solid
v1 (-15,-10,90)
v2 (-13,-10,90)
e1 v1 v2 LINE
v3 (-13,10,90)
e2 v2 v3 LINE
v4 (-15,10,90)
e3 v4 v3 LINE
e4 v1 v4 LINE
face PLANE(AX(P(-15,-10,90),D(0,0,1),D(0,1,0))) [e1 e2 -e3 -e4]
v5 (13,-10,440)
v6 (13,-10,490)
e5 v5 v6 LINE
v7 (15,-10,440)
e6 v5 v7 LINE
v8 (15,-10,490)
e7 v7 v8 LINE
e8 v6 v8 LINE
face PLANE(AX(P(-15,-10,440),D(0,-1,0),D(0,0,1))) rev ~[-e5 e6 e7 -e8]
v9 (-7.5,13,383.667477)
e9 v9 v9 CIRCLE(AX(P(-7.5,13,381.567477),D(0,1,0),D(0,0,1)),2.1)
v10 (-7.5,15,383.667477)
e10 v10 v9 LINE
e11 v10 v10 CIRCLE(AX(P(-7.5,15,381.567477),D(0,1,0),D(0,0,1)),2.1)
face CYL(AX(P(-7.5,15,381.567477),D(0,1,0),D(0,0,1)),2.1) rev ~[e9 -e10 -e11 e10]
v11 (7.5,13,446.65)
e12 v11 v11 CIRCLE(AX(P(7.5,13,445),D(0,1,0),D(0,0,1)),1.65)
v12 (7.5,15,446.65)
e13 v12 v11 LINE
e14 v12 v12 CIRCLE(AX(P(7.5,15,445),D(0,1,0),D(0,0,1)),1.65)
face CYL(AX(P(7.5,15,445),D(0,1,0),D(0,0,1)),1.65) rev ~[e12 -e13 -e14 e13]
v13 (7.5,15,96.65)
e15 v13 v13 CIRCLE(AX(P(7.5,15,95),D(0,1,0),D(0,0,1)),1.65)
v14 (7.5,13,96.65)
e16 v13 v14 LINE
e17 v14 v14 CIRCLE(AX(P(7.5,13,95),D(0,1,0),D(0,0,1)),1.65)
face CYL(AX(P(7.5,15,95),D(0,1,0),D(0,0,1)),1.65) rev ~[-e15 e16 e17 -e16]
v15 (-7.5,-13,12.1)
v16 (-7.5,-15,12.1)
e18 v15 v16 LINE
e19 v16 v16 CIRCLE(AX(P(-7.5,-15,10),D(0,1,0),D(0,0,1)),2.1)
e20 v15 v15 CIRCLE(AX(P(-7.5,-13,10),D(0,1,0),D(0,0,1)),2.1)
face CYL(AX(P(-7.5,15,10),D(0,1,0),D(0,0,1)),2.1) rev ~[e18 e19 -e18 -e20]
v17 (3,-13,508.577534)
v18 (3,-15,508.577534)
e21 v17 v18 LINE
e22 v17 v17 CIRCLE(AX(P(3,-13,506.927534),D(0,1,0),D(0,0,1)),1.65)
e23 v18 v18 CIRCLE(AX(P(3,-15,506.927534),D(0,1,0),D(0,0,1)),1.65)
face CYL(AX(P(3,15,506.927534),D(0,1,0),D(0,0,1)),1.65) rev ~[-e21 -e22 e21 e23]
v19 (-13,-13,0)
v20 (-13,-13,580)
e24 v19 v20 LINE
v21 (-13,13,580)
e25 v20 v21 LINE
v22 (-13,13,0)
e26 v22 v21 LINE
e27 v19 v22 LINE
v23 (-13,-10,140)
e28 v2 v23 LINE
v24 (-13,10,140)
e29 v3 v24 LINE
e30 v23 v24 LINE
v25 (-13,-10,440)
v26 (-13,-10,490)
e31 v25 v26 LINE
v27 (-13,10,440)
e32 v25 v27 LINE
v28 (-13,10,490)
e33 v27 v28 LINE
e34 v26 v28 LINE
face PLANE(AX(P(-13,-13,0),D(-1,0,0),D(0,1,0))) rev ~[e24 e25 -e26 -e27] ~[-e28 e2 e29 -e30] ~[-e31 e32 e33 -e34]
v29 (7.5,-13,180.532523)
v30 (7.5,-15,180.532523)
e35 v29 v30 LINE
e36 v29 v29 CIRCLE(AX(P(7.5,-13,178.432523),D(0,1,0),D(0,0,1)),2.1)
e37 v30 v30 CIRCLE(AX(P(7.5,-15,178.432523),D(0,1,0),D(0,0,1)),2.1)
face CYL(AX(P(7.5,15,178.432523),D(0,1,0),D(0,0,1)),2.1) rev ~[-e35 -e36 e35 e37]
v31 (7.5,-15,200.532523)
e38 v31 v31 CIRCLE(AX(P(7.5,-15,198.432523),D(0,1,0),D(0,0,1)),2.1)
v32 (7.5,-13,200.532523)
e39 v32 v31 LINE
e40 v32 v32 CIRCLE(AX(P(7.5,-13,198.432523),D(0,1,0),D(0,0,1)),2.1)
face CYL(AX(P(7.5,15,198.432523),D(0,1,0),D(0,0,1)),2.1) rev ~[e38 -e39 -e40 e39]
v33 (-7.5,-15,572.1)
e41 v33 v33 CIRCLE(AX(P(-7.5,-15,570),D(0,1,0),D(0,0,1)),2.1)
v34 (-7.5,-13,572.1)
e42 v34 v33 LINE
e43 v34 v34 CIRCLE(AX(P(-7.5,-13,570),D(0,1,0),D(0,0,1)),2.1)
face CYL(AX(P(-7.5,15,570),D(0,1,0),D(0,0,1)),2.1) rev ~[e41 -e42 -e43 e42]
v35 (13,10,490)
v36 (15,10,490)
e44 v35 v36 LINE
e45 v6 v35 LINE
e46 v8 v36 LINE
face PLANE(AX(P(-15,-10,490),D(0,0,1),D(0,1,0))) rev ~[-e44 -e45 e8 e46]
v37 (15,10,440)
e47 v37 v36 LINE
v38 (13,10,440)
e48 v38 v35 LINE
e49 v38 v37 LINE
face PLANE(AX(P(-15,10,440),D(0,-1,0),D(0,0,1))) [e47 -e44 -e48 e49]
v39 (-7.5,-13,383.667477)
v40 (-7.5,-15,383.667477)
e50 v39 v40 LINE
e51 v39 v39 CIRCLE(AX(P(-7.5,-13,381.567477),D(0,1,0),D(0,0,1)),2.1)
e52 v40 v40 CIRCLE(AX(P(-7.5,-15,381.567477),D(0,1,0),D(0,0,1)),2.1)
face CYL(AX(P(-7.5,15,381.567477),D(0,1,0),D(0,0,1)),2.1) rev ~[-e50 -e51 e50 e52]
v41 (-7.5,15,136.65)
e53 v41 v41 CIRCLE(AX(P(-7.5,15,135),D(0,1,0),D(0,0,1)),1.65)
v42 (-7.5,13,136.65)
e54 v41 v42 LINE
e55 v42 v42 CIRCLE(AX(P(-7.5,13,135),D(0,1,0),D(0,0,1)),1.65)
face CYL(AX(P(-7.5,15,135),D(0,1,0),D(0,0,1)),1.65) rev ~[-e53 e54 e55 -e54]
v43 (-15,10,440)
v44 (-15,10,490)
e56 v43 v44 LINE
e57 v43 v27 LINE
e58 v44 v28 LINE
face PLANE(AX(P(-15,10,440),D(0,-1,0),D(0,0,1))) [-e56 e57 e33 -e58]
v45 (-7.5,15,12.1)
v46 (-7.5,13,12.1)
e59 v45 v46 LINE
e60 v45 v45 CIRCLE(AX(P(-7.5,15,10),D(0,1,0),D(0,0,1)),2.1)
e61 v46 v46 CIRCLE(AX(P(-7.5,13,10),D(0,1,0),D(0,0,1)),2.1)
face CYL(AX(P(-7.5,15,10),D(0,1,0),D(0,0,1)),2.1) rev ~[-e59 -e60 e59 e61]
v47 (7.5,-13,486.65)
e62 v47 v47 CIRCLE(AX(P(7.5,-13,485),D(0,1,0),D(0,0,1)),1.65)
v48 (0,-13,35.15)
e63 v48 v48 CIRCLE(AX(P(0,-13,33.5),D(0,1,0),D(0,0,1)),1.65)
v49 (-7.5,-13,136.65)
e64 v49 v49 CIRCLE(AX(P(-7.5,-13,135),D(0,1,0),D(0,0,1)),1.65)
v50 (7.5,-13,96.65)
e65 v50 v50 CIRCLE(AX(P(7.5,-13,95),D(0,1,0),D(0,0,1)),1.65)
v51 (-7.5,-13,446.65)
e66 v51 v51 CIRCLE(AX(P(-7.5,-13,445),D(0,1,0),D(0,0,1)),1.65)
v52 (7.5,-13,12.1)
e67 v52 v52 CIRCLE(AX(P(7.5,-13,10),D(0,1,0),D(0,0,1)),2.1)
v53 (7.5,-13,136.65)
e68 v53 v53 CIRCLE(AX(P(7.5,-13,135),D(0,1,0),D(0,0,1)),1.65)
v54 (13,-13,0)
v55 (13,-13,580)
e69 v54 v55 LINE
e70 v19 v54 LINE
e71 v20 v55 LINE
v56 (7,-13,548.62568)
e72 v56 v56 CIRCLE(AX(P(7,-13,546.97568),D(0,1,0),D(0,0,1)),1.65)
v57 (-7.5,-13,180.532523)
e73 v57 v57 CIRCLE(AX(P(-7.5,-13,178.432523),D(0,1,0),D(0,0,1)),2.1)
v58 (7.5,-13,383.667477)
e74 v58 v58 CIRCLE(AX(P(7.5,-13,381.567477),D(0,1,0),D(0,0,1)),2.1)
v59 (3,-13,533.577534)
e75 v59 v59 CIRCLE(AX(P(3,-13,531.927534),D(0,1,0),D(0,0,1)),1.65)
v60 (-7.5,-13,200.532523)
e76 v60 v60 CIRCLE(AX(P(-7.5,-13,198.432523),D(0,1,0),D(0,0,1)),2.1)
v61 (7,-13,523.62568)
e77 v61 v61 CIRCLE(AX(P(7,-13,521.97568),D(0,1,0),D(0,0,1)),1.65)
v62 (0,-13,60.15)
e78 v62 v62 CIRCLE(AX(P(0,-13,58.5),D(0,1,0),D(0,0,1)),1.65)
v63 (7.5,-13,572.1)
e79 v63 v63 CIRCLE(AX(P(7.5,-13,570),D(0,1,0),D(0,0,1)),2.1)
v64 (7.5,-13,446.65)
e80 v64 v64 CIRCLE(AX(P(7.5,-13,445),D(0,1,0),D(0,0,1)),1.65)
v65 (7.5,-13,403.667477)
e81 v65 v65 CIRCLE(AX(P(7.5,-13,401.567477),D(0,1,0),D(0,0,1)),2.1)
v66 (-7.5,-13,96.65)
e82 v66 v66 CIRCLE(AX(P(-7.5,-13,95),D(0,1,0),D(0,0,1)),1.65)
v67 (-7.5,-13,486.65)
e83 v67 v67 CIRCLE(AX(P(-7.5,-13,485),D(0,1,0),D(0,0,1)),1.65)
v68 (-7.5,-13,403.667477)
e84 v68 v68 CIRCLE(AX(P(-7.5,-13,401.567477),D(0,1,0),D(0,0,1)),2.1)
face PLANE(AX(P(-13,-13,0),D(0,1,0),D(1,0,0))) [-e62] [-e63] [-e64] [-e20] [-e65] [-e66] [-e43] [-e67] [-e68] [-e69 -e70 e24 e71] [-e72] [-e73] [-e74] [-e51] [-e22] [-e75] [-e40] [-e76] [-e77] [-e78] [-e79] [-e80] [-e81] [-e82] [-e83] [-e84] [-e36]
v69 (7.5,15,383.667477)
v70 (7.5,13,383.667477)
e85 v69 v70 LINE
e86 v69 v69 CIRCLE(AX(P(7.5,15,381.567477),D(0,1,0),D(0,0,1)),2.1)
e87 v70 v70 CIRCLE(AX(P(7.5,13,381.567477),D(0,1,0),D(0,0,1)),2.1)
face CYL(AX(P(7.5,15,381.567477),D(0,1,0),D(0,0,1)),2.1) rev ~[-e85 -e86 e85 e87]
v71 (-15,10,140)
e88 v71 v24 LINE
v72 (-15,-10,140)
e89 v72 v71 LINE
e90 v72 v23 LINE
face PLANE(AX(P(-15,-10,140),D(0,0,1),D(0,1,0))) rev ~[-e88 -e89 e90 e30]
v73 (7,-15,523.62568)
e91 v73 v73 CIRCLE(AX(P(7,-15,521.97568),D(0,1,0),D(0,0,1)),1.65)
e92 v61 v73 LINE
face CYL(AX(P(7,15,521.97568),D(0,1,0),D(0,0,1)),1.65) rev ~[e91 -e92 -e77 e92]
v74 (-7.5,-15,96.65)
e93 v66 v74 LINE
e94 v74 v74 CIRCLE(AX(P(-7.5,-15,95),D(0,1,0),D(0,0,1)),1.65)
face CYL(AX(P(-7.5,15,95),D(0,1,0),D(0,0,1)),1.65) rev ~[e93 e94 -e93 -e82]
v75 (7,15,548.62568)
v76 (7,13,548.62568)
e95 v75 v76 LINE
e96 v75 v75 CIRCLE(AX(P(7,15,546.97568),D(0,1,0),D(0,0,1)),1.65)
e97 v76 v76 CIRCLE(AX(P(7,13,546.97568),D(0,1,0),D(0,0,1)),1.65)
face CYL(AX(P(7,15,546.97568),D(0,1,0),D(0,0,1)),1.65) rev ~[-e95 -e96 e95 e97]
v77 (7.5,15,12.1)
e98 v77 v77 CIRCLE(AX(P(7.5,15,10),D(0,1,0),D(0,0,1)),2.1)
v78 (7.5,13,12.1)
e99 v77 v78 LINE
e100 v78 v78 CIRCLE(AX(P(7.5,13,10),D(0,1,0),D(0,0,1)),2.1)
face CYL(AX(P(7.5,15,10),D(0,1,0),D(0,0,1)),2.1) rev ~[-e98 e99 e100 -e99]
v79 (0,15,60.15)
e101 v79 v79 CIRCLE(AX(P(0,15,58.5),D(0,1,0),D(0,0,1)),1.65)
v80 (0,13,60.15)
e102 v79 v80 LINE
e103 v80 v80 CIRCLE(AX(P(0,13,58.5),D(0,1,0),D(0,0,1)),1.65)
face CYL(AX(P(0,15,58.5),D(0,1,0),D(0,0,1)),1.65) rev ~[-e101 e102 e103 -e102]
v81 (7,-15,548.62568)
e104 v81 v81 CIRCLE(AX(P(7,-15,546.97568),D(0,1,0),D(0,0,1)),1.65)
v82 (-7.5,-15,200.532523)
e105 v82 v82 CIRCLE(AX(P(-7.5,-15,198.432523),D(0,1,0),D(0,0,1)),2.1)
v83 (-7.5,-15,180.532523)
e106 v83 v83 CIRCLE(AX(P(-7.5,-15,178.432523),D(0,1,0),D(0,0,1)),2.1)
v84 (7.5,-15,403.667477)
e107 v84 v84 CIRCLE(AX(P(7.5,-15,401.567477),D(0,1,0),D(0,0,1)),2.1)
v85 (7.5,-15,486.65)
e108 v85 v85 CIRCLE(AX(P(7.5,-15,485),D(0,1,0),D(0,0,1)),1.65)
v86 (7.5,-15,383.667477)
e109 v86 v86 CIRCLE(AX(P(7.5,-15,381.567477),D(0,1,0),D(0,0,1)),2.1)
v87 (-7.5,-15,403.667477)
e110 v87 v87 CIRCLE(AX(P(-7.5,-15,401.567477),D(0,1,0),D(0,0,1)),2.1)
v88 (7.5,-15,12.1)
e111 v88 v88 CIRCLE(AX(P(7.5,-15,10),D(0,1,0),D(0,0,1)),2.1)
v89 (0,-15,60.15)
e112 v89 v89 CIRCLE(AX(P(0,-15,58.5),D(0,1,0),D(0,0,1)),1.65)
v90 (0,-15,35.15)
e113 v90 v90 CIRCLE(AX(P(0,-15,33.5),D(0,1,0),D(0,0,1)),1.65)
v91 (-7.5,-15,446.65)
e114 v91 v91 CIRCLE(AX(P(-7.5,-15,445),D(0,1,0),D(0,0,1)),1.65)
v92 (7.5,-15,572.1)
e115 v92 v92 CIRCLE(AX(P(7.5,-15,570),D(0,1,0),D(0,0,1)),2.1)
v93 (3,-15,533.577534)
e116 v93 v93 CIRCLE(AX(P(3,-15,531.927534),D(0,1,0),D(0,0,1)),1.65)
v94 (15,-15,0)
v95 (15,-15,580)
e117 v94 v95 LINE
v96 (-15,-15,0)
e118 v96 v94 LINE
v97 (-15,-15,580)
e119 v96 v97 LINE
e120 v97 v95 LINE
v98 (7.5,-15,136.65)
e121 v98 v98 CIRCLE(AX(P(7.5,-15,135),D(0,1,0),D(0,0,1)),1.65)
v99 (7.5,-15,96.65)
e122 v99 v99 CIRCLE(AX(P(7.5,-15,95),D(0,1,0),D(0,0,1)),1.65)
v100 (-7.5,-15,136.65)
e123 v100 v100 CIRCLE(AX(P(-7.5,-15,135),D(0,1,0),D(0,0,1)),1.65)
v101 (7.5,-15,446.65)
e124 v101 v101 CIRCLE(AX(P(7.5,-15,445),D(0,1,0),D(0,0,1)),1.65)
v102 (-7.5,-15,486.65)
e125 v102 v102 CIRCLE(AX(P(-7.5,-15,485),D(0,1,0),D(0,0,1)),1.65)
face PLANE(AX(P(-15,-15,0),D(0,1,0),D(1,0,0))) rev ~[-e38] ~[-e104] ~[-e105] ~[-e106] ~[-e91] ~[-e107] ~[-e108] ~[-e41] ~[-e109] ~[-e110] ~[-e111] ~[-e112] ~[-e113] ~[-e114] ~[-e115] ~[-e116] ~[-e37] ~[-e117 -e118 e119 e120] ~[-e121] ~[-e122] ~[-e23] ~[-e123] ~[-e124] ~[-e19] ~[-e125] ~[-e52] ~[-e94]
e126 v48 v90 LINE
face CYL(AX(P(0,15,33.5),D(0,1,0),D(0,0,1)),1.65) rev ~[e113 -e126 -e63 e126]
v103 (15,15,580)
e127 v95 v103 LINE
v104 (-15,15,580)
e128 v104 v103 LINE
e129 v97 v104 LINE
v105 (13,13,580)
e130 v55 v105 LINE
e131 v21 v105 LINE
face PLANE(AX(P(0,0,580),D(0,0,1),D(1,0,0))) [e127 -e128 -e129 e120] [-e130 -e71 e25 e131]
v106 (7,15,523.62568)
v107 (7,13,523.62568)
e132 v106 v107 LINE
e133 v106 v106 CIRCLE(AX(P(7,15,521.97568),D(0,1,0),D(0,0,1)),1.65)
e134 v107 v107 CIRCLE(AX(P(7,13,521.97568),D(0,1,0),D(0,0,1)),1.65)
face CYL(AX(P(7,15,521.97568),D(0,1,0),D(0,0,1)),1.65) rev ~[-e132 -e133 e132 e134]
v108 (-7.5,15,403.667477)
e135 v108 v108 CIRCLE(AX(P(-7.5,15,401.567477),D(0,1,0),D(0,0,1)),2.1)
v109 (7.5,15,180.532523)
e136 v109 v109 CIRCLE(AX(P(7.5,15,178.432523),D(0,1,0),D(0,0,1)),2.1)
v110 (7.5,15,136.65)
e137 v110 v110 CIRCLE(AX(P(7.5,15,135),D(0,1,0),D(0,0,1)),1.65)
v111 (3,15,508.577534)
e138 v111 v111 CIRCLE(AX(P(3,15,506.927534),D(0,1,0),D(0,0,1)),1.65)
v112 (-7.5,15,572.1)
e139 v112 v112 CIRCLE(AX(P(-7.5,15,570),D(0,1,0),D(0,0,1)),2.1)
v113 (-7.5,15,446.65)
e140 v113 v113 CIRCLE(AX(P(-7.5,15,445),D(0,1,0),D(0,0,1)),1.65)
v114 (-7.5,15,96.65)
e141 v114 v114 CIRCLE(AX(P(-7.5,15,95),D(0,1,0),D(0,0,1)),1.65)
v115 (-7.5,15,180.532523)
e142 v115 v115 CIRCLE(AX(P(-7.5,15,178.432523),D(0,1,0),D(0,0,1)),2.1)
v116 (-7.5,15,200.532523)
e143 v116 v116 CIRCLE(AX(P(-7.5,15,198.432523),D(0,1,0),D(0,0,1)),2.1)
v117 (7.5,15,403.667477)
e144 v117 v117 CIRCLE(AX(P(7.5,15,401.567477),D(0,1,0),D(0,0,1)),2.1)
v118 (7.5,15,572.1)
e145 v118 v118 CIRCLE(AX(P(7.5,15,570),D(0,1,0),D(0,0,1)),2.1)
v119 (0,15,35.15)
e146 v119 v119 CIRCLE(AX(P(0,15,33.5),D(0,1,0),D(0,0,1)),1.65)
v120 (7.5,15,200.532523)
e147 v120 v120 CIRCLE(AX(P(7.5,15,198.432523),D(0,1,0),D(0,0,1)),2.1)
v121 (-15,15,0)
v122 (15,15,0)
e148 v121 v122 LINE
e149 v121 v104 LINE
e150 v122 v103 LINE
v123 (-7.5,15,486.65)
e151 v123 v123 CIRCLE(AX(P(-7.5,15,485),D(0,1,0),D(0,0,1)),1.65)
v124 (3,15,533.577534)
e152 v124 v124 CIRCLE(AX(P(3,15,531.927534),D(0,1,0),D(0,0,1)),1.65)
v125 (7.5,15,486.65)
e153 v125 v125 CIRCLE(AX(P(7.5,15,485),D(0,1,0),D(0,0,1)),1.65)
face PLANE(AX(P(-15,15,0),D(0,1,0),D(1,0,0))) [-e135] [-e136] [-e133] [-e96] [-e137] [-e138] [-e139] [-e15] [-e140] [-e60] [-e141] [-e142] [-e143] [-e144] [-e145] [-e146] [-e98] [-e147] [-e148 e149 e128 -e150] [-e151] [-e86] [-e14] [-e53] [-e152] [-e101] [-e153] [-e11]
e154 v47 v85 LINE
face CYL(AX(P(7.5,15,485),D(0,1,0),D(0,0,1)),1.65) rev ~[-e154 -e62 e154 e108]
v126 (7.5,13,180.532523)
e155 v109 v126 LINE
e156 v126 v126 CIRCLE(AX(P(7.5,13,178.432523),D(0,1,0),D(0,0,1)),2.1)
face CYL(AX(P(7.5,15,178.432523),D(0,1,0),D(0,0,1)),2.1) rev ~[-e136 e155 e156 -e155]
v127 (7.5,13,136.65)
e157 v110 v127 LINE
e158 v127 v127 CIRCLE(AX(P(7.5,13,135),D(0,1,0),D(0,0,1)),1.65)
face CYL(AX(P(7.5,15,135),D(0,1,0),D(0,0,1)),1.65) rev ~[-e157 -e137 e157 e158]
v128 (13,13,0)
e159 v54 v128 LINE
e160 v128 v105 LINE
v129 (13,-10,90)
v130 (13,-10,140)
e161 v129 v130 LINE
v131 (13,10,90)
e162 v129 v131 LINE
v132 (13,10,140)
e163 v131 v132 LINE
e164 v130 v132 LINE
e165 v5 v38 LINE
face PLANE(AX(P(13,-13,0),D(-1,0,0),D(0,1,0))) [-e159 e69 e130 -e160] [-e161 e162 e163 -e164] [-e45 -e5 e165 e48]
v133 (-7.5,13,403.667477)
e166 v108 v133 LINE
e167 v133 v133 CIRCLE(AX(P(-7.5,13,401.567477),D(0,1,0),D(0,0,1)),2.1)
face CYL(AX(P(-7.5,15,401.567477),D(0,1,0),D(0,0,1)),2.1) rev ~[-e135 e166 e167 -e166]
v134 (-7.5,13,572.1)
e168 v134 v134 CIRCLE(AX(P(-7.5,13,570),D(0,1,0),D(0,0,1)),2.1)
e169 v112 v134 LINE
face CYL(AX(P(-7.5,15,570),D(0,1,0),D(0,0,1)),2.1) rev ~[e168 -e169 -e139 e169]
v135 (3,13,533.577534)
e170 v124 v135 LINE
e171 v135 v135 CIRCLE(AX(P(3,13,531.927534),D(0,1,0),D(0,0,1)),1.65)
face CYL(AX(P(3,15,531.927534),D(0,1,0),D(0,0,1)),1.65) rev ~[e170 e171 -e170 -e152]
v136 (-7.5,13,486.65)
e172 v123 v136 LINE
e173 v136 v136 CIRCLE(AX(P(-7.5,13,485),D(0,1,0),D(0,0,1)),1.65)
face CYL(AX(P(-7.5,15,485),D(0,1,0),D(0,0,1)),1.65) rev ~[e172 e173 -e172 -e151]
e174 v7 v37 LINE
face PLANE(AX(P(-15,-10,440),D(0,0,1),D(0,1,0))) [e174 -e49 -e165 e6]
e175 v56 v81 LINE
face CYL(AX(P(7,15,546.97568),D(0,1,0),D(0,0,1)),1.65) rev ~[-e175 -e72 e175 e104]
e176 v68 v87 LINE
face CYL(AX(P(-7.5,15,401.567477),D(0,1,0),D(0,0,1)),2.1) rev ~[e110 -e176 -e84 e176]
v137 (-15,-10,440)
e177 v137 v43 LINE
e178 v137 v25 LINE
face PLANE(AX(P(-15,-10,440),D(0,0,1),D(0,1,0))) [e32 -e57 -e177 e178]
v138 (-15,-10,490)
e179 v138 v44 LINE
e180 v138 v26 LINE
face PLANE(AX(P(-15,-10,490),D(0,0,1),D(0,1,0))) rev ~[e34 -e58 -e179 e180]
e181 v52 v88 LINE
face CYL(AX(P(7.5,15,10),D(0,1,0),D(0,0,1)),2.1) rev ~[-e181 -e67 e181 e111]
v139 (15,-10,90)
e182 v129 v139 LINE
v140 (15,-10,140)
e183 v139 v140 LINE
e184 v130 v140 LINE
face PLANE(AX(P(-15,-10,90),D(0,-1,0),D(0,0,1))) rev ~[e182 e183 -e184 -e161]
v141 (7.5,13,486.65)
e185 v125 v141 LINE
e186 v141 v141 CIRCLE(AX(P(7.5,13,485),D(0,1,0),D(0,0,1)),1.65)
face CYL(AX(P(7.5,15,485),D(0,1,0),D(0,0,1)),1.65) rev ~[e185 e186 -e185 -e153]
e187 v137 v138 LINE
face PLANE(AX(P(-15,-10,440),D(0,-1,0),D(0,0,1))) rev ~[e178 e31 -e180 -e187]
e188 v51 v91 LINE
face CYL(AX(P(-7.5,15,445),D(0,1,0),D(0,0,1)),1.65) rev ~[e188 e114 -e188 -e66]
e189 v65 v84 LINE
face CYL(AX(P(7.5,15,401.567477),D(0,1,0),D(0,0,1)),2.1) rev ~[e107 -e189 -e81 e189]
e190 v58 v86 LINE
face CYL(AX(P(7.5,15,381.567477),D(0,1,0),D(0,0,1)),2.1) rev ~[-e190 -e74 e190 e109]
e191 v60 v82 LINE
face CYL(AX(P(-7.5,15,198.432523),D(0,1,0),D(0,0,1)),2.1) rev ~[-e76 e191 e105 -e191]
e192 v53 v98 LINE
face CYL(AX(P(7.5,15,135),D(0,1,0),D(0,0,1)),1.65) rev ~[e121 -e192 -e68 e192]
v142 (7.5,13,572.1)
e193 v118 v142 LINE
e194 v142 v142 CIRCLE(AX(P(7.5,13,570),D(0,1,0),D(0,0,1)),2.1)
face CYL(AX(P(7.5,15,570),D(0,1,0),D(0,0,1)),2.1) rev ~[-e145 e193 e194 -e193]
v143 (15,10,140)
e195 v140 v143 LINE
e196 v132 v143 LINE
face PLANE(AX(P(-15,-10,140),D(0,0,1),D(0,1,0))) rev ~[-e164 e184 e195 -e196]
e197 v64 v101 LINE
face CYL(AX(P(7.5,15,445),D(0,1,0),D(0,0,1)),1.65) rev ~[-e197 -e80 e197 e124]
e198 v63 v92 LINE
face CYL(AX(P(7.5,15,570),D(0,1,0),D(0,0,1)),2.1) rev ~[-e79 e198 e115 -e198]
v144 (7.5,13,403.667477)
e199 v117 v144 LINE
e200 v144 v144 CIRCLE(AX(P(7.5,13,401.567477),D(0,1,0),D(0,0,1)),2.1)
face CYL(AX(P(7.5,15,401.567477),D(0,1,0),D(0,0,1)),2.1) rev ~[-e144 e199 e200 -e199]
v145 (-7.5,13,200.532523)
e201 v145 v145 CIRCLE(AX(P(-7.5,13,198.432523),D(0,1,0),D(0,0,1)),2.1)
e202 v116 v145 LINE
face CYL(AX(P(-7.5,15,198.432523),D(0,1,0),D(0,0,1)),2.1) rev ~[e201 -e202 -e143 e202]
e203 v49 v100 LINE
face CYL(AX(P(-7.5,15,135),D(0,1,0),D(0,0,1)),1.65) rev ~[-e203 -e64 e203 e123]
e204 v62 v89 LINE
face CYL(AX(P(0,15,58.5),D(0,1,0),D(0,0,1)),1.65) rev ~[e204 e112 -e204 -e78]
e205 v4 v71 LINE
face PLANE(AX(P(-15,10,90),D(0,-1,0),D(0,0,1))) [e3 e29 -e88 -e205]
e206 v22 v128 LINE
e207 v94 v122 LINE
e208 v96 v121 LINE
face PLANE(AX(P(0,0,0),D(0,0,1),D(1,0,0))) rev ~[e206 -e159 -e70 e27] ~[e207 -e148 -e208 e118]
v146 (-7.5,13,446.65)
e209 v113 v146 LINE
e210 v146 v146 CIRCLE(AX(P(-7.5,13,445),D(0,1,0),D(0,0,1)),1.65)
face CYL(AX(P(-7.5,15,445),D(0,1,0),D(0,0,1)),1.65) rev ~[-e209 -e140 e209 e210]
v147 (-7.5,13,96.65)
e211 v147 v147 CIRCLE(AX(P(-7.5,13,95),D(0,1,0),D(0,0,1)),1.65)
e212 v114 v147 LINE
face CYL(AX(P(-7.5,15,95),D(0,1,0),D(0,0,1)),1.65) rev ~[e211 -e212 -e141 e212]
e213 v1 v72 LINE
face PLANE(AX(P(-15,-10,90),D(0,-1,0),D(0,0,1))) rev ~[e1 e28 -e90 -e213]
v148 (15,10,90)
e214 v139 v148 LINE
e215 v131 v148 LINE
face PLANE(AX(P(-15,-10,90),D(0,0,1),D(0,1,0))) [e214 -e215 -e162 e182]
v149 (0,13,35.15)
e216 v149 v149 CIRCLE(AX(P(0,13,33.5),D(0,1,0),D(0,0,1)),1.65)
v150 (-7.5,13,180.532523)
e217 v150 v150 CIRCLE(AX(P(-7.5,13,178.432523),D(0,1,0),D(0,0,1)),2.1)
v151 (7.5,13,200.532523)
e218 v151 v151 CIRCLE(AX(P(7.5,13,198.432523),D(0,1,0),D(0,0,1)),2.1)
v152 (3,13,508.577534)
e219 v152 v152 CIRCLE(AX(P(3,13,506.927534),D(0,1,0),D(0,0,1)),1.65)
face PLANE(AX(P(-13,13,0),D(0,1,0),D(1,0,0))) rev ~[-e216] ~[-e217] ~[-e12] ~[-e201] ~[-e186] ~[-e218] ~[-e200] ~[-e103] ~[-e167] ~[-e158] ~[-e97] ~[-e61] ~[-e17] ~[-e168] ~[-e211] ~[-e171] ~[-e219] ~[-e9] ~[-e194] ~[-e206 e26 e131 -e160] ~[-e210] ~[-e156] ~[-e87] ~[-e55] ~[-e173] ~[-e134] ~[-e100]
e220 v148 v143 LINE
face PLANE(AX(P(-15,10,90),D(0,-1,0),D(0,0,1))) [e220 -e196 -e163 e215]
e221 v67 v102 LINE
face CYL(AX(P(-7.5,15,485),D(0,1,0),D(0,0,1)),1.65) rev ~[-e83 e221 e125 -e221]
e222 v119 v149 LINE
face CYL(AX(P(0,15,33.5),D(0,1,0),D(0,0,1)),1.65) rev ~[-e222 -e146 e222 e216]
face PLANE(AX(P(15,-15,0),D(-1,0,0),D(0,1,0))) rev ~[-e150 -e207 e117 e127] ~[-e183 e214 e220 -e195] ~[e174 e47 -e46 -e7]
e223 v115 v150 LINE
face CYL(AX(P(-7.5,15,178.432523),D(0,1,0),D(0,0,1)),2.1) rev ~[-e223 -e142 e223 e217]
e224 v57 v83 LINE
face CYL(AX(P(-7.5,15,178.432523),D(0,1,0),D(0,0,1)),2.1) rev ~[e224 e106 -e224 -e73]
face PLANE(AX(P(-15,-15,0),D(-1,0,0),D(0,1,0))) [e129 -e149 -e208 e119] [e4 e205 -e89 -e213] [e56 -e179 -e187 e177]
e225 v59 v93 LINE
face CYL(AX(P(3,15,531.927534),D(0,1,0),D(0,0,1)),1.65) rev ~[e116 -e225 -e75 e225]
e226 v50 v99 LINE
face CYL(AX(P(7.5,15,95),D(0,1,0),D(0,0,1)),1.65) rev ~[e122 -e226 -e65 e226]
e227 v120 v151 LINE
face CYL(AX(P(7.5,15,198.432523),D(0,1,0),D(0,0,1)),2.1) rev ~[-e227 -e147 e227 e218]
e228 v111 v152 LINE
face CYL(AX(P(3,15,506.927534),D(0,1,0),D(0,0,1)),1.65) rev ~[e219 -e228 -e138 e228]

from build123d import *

# Parameters (mm, degrees)
SKETCH_1_W          = 30
SKETCH_1_H          = 30
SKETCH_1_W_2        = 26
SKETCH_1_H_2        = 26
EXTRUDE_1_DEPTH     = 580
SKETCH_2_W          = 50
SKETCH_2_H          = 20
CUT_EXTRUDE_1_DEPTH = 581.969018107
SKETCH_3_R          = 2.1
CUT_EXTRUDE_2_DEPTH = 581.969018107
SKETCH_4_R          = 2.1
CUT_EXTRUDE_3_DEPTH = 581.969018107
SKETCH_7_R          = 1.65
CUT_EXTRUDE_6_DEPTH = 581.969018107
SKETCH_8_R          = 1.65
CUT_EXTRUDE_7_DEPTH = 581.969018107
SKETCH_9_R          = 1.65
CUT_EXTRUDE_8_DEPTH = 581.969018107


with BuildPart() as part:
    # 草图1 → 凸台-拉伸1 (new body)
    with BuildSketch(Plane.XY):
        Rectangle(SKETCH_1_W, SKETCH_1_H)
        Rectangle(SKETCH_1_W_2, SKETCH_1_H_2, mode=Mode.SUBTRACT)
    extrude(amount=EXTRUDE_1_DEPTH)

    # 草图2 → 切除-拉伸1 (cut, through all)
    with BuildSketch(Plane.ZY.offset(15)):
        with Locations((115, 0)):
            Rectangle(SKETCH_2_W, SKETCH_2_H)
        with Locations((465, 0)):
            Rectangle(SKETCH_2_W, SKETCH_2_H)
    extrude(amount=-CUT_EXTRUDE_1_DEPTH, mode=Mode.SUBTRACT)

    # 草图3 → 切除-拉伸2 (cut, through all)
    with BuildSketch(Plane(origin=(0, 15, 0), x_dir=(1, 0, 0), z_dir=(0, 1, 0))):
        with Locations(Location((7.5, -10, 0), (0, 0, 270))):
            Circle(SKETCH_3_R)
        with Locations(Location((-7.5, -10, 0), (0, 0, 270))):
            Circle(SKETCH_3_R)
        with Locations(Location((-7.5, -570, 0), (0, 0, 270))):
            Circle(SKETCH_3_R)
        with Locations(Location((7.5, -570, 0), (0, 0, 270))):
            Circle(SKETCH_3_R)
    extrude(amount=-CUT_EXTRUDE_2_DEPTH, mode=Mode.SUBTRACT)

    # 草图4 → 切除-拉伸3 (cut, through all)
    with BuildSketch(Plane(origin=(0, 15, 0), x_dir=(1, 0, 0), z_dir=(0, 1, 0))):
        with Locations(Location((7.5, -401.567476668, 0), (0, 0, 270))):
            Circle(SKETCH_4_R)
        with Locations(Location((-7.5, -401.567476668, 0), (0, 0, 270))):
            Circle(SKETCH_4_R)
        with Locations(Location((-7.5, -381.567476668, 0), (0, 0, 270))):
            Circle(SKETCH_4_R)
        with Locations(Location((7.5, -381.567476668, 0), (0, 0, 270))):
            Circle(SKETCH_4_R)
        with Locations(Location((7.5, -178.432523332, 0), (0, 0, 270))):
            Circle(SKETCH_4_R)
        with Locations(Location((-7.5, -178.432523332, 0), (0, 0, 270))):
            Circle(SKETCH_4_R)
        with Locations(Location((-7.5, -198.432523332, 0), (0, 0, 270))):
            Circle(SKETCH_4_R)
        with Locations(Location((7.5, -198.432523332, 0), (0, 0, 270))):
            Circle(SKETCH_4_R)
        with Locations((162.5, -178.432523332)):
            Circle(SKETCH_4_R)
        with Locations((177.5, -178.432523332)):
            Circle(SKETCH_4_R)
        with Locations((177.5, -198.432523332)):
            Circle(SKETCH_4_R)
        with Locations((162.5, -198.432523332)):
            Circle(SKETCH_4_R)
        with Locations((162.5, -381.567476668)):
            Circle(SKETCH_4_R)
        with Locations((162.5, -401.567476668)):
            Circle(SKETCH_4_R)
        with Locations((177.5, -401.567476668)):
            Circle(SKETCH_4_R)
        with Locations((177.5, -381.567476668)):
            Circle(SKETCH_4_R)
    extrude(amount=-CUT_EXTRUDE_3_DEPTH, mode=Mode.SUBTRACT)

    # 草图7 → 切除-拉伸6 (cut, through all)
    with BuildSketch(Plane(origin=(0, 15, 0), x_dir=(1, 0, 0), z_dir=(0, 1, 0))):
        with Locations(Location((0, -33.5, 0), (0, 0, 270))):
            Circle(SKETCH_7_R)
        with Locations(Location((0, -58.5, 0), (0, 0, 270))):
            Circle(SKETCH_7_R)
        with Locations((167, -73.072466057)):
            Circle(SKETCH_7_R)
        with Locations((167, -48.072466057)):
            Circle(SKETCH_7_R)
    extrude(amount=-CUT_EXTRUDE_6_DEPTH, mode=Mode.SUBTRACT)

    # 草图8 → 切除-拉伸7 (cut, through all)
    with BuildSketch(Plane(origin=(0, 15, 0), x_dir=(1, 0, 0), z_dir=(0, 1, 0))):
        with Locations(Location((3, -506.927533943, 0), (0, 0, 270))):
            Circle(SKETCH_8_R)
        with Locations(Location((7, -521.975679885, 0), (0, 0, 270))):
            Circle(SKETCH_8_R)
        with Locations(Location((3, -531.927533943, 0), (0, 0, 270))):
            Circle(SKETCH_8_R)
        with Locations(Location((7, -546.975679885, 0), (0, 0, 270))):
            Circle(SKETCH_8_R)
    extrude(amount=-CUT_EXTRUDE_7_DEPTH, mode=Mode.SUBTRACT)

    # 草图9 → 切除-拉伸8 (cut, through all)
    with BuildSketch(Plane(origin=(0, 15, 0), x_dir=(1, 0, 0), z_dir=(0, 1, 0))):
        with Locations(Location((-7.5, -445, 0), (0, 0, 270))):
            Circle(SKETCH_9_R)
        with Locations(Location((7.5, -445, 0), (0, 0, 270))):
            Circle(SKETCH_9_R)
        with Locations(Location((7.5, -485, 0), (0, 0, 270))):
            Circle(SKETCH_9_R)
        with Locations(Location((-7.5, -485, 0), (0, 0, 270))):
            Circle(SKETCH_9_R)
        with Locations(Location((-7.5, -95, 0), (0, 0, 270))):
            Circle(SKETCH_9_R)
        with Locations(Location((7.5, -95, 0), (0, 0, 270))):
            Circle(SKETCH_9_R)
        with Locations(Location((-7.5, -135, 0), (0, 0, 270))):
            Circle(SKETCH_9_R)
        with Locations(Location((7.5, -135, 0), (0, 0, 270))):
            Circle(SKETCH_9_R)
    extrude(amount=-CUT_EXTRUDE_8_DEPTH, mode=Mode.SUBTRACT)


solid = part.part
